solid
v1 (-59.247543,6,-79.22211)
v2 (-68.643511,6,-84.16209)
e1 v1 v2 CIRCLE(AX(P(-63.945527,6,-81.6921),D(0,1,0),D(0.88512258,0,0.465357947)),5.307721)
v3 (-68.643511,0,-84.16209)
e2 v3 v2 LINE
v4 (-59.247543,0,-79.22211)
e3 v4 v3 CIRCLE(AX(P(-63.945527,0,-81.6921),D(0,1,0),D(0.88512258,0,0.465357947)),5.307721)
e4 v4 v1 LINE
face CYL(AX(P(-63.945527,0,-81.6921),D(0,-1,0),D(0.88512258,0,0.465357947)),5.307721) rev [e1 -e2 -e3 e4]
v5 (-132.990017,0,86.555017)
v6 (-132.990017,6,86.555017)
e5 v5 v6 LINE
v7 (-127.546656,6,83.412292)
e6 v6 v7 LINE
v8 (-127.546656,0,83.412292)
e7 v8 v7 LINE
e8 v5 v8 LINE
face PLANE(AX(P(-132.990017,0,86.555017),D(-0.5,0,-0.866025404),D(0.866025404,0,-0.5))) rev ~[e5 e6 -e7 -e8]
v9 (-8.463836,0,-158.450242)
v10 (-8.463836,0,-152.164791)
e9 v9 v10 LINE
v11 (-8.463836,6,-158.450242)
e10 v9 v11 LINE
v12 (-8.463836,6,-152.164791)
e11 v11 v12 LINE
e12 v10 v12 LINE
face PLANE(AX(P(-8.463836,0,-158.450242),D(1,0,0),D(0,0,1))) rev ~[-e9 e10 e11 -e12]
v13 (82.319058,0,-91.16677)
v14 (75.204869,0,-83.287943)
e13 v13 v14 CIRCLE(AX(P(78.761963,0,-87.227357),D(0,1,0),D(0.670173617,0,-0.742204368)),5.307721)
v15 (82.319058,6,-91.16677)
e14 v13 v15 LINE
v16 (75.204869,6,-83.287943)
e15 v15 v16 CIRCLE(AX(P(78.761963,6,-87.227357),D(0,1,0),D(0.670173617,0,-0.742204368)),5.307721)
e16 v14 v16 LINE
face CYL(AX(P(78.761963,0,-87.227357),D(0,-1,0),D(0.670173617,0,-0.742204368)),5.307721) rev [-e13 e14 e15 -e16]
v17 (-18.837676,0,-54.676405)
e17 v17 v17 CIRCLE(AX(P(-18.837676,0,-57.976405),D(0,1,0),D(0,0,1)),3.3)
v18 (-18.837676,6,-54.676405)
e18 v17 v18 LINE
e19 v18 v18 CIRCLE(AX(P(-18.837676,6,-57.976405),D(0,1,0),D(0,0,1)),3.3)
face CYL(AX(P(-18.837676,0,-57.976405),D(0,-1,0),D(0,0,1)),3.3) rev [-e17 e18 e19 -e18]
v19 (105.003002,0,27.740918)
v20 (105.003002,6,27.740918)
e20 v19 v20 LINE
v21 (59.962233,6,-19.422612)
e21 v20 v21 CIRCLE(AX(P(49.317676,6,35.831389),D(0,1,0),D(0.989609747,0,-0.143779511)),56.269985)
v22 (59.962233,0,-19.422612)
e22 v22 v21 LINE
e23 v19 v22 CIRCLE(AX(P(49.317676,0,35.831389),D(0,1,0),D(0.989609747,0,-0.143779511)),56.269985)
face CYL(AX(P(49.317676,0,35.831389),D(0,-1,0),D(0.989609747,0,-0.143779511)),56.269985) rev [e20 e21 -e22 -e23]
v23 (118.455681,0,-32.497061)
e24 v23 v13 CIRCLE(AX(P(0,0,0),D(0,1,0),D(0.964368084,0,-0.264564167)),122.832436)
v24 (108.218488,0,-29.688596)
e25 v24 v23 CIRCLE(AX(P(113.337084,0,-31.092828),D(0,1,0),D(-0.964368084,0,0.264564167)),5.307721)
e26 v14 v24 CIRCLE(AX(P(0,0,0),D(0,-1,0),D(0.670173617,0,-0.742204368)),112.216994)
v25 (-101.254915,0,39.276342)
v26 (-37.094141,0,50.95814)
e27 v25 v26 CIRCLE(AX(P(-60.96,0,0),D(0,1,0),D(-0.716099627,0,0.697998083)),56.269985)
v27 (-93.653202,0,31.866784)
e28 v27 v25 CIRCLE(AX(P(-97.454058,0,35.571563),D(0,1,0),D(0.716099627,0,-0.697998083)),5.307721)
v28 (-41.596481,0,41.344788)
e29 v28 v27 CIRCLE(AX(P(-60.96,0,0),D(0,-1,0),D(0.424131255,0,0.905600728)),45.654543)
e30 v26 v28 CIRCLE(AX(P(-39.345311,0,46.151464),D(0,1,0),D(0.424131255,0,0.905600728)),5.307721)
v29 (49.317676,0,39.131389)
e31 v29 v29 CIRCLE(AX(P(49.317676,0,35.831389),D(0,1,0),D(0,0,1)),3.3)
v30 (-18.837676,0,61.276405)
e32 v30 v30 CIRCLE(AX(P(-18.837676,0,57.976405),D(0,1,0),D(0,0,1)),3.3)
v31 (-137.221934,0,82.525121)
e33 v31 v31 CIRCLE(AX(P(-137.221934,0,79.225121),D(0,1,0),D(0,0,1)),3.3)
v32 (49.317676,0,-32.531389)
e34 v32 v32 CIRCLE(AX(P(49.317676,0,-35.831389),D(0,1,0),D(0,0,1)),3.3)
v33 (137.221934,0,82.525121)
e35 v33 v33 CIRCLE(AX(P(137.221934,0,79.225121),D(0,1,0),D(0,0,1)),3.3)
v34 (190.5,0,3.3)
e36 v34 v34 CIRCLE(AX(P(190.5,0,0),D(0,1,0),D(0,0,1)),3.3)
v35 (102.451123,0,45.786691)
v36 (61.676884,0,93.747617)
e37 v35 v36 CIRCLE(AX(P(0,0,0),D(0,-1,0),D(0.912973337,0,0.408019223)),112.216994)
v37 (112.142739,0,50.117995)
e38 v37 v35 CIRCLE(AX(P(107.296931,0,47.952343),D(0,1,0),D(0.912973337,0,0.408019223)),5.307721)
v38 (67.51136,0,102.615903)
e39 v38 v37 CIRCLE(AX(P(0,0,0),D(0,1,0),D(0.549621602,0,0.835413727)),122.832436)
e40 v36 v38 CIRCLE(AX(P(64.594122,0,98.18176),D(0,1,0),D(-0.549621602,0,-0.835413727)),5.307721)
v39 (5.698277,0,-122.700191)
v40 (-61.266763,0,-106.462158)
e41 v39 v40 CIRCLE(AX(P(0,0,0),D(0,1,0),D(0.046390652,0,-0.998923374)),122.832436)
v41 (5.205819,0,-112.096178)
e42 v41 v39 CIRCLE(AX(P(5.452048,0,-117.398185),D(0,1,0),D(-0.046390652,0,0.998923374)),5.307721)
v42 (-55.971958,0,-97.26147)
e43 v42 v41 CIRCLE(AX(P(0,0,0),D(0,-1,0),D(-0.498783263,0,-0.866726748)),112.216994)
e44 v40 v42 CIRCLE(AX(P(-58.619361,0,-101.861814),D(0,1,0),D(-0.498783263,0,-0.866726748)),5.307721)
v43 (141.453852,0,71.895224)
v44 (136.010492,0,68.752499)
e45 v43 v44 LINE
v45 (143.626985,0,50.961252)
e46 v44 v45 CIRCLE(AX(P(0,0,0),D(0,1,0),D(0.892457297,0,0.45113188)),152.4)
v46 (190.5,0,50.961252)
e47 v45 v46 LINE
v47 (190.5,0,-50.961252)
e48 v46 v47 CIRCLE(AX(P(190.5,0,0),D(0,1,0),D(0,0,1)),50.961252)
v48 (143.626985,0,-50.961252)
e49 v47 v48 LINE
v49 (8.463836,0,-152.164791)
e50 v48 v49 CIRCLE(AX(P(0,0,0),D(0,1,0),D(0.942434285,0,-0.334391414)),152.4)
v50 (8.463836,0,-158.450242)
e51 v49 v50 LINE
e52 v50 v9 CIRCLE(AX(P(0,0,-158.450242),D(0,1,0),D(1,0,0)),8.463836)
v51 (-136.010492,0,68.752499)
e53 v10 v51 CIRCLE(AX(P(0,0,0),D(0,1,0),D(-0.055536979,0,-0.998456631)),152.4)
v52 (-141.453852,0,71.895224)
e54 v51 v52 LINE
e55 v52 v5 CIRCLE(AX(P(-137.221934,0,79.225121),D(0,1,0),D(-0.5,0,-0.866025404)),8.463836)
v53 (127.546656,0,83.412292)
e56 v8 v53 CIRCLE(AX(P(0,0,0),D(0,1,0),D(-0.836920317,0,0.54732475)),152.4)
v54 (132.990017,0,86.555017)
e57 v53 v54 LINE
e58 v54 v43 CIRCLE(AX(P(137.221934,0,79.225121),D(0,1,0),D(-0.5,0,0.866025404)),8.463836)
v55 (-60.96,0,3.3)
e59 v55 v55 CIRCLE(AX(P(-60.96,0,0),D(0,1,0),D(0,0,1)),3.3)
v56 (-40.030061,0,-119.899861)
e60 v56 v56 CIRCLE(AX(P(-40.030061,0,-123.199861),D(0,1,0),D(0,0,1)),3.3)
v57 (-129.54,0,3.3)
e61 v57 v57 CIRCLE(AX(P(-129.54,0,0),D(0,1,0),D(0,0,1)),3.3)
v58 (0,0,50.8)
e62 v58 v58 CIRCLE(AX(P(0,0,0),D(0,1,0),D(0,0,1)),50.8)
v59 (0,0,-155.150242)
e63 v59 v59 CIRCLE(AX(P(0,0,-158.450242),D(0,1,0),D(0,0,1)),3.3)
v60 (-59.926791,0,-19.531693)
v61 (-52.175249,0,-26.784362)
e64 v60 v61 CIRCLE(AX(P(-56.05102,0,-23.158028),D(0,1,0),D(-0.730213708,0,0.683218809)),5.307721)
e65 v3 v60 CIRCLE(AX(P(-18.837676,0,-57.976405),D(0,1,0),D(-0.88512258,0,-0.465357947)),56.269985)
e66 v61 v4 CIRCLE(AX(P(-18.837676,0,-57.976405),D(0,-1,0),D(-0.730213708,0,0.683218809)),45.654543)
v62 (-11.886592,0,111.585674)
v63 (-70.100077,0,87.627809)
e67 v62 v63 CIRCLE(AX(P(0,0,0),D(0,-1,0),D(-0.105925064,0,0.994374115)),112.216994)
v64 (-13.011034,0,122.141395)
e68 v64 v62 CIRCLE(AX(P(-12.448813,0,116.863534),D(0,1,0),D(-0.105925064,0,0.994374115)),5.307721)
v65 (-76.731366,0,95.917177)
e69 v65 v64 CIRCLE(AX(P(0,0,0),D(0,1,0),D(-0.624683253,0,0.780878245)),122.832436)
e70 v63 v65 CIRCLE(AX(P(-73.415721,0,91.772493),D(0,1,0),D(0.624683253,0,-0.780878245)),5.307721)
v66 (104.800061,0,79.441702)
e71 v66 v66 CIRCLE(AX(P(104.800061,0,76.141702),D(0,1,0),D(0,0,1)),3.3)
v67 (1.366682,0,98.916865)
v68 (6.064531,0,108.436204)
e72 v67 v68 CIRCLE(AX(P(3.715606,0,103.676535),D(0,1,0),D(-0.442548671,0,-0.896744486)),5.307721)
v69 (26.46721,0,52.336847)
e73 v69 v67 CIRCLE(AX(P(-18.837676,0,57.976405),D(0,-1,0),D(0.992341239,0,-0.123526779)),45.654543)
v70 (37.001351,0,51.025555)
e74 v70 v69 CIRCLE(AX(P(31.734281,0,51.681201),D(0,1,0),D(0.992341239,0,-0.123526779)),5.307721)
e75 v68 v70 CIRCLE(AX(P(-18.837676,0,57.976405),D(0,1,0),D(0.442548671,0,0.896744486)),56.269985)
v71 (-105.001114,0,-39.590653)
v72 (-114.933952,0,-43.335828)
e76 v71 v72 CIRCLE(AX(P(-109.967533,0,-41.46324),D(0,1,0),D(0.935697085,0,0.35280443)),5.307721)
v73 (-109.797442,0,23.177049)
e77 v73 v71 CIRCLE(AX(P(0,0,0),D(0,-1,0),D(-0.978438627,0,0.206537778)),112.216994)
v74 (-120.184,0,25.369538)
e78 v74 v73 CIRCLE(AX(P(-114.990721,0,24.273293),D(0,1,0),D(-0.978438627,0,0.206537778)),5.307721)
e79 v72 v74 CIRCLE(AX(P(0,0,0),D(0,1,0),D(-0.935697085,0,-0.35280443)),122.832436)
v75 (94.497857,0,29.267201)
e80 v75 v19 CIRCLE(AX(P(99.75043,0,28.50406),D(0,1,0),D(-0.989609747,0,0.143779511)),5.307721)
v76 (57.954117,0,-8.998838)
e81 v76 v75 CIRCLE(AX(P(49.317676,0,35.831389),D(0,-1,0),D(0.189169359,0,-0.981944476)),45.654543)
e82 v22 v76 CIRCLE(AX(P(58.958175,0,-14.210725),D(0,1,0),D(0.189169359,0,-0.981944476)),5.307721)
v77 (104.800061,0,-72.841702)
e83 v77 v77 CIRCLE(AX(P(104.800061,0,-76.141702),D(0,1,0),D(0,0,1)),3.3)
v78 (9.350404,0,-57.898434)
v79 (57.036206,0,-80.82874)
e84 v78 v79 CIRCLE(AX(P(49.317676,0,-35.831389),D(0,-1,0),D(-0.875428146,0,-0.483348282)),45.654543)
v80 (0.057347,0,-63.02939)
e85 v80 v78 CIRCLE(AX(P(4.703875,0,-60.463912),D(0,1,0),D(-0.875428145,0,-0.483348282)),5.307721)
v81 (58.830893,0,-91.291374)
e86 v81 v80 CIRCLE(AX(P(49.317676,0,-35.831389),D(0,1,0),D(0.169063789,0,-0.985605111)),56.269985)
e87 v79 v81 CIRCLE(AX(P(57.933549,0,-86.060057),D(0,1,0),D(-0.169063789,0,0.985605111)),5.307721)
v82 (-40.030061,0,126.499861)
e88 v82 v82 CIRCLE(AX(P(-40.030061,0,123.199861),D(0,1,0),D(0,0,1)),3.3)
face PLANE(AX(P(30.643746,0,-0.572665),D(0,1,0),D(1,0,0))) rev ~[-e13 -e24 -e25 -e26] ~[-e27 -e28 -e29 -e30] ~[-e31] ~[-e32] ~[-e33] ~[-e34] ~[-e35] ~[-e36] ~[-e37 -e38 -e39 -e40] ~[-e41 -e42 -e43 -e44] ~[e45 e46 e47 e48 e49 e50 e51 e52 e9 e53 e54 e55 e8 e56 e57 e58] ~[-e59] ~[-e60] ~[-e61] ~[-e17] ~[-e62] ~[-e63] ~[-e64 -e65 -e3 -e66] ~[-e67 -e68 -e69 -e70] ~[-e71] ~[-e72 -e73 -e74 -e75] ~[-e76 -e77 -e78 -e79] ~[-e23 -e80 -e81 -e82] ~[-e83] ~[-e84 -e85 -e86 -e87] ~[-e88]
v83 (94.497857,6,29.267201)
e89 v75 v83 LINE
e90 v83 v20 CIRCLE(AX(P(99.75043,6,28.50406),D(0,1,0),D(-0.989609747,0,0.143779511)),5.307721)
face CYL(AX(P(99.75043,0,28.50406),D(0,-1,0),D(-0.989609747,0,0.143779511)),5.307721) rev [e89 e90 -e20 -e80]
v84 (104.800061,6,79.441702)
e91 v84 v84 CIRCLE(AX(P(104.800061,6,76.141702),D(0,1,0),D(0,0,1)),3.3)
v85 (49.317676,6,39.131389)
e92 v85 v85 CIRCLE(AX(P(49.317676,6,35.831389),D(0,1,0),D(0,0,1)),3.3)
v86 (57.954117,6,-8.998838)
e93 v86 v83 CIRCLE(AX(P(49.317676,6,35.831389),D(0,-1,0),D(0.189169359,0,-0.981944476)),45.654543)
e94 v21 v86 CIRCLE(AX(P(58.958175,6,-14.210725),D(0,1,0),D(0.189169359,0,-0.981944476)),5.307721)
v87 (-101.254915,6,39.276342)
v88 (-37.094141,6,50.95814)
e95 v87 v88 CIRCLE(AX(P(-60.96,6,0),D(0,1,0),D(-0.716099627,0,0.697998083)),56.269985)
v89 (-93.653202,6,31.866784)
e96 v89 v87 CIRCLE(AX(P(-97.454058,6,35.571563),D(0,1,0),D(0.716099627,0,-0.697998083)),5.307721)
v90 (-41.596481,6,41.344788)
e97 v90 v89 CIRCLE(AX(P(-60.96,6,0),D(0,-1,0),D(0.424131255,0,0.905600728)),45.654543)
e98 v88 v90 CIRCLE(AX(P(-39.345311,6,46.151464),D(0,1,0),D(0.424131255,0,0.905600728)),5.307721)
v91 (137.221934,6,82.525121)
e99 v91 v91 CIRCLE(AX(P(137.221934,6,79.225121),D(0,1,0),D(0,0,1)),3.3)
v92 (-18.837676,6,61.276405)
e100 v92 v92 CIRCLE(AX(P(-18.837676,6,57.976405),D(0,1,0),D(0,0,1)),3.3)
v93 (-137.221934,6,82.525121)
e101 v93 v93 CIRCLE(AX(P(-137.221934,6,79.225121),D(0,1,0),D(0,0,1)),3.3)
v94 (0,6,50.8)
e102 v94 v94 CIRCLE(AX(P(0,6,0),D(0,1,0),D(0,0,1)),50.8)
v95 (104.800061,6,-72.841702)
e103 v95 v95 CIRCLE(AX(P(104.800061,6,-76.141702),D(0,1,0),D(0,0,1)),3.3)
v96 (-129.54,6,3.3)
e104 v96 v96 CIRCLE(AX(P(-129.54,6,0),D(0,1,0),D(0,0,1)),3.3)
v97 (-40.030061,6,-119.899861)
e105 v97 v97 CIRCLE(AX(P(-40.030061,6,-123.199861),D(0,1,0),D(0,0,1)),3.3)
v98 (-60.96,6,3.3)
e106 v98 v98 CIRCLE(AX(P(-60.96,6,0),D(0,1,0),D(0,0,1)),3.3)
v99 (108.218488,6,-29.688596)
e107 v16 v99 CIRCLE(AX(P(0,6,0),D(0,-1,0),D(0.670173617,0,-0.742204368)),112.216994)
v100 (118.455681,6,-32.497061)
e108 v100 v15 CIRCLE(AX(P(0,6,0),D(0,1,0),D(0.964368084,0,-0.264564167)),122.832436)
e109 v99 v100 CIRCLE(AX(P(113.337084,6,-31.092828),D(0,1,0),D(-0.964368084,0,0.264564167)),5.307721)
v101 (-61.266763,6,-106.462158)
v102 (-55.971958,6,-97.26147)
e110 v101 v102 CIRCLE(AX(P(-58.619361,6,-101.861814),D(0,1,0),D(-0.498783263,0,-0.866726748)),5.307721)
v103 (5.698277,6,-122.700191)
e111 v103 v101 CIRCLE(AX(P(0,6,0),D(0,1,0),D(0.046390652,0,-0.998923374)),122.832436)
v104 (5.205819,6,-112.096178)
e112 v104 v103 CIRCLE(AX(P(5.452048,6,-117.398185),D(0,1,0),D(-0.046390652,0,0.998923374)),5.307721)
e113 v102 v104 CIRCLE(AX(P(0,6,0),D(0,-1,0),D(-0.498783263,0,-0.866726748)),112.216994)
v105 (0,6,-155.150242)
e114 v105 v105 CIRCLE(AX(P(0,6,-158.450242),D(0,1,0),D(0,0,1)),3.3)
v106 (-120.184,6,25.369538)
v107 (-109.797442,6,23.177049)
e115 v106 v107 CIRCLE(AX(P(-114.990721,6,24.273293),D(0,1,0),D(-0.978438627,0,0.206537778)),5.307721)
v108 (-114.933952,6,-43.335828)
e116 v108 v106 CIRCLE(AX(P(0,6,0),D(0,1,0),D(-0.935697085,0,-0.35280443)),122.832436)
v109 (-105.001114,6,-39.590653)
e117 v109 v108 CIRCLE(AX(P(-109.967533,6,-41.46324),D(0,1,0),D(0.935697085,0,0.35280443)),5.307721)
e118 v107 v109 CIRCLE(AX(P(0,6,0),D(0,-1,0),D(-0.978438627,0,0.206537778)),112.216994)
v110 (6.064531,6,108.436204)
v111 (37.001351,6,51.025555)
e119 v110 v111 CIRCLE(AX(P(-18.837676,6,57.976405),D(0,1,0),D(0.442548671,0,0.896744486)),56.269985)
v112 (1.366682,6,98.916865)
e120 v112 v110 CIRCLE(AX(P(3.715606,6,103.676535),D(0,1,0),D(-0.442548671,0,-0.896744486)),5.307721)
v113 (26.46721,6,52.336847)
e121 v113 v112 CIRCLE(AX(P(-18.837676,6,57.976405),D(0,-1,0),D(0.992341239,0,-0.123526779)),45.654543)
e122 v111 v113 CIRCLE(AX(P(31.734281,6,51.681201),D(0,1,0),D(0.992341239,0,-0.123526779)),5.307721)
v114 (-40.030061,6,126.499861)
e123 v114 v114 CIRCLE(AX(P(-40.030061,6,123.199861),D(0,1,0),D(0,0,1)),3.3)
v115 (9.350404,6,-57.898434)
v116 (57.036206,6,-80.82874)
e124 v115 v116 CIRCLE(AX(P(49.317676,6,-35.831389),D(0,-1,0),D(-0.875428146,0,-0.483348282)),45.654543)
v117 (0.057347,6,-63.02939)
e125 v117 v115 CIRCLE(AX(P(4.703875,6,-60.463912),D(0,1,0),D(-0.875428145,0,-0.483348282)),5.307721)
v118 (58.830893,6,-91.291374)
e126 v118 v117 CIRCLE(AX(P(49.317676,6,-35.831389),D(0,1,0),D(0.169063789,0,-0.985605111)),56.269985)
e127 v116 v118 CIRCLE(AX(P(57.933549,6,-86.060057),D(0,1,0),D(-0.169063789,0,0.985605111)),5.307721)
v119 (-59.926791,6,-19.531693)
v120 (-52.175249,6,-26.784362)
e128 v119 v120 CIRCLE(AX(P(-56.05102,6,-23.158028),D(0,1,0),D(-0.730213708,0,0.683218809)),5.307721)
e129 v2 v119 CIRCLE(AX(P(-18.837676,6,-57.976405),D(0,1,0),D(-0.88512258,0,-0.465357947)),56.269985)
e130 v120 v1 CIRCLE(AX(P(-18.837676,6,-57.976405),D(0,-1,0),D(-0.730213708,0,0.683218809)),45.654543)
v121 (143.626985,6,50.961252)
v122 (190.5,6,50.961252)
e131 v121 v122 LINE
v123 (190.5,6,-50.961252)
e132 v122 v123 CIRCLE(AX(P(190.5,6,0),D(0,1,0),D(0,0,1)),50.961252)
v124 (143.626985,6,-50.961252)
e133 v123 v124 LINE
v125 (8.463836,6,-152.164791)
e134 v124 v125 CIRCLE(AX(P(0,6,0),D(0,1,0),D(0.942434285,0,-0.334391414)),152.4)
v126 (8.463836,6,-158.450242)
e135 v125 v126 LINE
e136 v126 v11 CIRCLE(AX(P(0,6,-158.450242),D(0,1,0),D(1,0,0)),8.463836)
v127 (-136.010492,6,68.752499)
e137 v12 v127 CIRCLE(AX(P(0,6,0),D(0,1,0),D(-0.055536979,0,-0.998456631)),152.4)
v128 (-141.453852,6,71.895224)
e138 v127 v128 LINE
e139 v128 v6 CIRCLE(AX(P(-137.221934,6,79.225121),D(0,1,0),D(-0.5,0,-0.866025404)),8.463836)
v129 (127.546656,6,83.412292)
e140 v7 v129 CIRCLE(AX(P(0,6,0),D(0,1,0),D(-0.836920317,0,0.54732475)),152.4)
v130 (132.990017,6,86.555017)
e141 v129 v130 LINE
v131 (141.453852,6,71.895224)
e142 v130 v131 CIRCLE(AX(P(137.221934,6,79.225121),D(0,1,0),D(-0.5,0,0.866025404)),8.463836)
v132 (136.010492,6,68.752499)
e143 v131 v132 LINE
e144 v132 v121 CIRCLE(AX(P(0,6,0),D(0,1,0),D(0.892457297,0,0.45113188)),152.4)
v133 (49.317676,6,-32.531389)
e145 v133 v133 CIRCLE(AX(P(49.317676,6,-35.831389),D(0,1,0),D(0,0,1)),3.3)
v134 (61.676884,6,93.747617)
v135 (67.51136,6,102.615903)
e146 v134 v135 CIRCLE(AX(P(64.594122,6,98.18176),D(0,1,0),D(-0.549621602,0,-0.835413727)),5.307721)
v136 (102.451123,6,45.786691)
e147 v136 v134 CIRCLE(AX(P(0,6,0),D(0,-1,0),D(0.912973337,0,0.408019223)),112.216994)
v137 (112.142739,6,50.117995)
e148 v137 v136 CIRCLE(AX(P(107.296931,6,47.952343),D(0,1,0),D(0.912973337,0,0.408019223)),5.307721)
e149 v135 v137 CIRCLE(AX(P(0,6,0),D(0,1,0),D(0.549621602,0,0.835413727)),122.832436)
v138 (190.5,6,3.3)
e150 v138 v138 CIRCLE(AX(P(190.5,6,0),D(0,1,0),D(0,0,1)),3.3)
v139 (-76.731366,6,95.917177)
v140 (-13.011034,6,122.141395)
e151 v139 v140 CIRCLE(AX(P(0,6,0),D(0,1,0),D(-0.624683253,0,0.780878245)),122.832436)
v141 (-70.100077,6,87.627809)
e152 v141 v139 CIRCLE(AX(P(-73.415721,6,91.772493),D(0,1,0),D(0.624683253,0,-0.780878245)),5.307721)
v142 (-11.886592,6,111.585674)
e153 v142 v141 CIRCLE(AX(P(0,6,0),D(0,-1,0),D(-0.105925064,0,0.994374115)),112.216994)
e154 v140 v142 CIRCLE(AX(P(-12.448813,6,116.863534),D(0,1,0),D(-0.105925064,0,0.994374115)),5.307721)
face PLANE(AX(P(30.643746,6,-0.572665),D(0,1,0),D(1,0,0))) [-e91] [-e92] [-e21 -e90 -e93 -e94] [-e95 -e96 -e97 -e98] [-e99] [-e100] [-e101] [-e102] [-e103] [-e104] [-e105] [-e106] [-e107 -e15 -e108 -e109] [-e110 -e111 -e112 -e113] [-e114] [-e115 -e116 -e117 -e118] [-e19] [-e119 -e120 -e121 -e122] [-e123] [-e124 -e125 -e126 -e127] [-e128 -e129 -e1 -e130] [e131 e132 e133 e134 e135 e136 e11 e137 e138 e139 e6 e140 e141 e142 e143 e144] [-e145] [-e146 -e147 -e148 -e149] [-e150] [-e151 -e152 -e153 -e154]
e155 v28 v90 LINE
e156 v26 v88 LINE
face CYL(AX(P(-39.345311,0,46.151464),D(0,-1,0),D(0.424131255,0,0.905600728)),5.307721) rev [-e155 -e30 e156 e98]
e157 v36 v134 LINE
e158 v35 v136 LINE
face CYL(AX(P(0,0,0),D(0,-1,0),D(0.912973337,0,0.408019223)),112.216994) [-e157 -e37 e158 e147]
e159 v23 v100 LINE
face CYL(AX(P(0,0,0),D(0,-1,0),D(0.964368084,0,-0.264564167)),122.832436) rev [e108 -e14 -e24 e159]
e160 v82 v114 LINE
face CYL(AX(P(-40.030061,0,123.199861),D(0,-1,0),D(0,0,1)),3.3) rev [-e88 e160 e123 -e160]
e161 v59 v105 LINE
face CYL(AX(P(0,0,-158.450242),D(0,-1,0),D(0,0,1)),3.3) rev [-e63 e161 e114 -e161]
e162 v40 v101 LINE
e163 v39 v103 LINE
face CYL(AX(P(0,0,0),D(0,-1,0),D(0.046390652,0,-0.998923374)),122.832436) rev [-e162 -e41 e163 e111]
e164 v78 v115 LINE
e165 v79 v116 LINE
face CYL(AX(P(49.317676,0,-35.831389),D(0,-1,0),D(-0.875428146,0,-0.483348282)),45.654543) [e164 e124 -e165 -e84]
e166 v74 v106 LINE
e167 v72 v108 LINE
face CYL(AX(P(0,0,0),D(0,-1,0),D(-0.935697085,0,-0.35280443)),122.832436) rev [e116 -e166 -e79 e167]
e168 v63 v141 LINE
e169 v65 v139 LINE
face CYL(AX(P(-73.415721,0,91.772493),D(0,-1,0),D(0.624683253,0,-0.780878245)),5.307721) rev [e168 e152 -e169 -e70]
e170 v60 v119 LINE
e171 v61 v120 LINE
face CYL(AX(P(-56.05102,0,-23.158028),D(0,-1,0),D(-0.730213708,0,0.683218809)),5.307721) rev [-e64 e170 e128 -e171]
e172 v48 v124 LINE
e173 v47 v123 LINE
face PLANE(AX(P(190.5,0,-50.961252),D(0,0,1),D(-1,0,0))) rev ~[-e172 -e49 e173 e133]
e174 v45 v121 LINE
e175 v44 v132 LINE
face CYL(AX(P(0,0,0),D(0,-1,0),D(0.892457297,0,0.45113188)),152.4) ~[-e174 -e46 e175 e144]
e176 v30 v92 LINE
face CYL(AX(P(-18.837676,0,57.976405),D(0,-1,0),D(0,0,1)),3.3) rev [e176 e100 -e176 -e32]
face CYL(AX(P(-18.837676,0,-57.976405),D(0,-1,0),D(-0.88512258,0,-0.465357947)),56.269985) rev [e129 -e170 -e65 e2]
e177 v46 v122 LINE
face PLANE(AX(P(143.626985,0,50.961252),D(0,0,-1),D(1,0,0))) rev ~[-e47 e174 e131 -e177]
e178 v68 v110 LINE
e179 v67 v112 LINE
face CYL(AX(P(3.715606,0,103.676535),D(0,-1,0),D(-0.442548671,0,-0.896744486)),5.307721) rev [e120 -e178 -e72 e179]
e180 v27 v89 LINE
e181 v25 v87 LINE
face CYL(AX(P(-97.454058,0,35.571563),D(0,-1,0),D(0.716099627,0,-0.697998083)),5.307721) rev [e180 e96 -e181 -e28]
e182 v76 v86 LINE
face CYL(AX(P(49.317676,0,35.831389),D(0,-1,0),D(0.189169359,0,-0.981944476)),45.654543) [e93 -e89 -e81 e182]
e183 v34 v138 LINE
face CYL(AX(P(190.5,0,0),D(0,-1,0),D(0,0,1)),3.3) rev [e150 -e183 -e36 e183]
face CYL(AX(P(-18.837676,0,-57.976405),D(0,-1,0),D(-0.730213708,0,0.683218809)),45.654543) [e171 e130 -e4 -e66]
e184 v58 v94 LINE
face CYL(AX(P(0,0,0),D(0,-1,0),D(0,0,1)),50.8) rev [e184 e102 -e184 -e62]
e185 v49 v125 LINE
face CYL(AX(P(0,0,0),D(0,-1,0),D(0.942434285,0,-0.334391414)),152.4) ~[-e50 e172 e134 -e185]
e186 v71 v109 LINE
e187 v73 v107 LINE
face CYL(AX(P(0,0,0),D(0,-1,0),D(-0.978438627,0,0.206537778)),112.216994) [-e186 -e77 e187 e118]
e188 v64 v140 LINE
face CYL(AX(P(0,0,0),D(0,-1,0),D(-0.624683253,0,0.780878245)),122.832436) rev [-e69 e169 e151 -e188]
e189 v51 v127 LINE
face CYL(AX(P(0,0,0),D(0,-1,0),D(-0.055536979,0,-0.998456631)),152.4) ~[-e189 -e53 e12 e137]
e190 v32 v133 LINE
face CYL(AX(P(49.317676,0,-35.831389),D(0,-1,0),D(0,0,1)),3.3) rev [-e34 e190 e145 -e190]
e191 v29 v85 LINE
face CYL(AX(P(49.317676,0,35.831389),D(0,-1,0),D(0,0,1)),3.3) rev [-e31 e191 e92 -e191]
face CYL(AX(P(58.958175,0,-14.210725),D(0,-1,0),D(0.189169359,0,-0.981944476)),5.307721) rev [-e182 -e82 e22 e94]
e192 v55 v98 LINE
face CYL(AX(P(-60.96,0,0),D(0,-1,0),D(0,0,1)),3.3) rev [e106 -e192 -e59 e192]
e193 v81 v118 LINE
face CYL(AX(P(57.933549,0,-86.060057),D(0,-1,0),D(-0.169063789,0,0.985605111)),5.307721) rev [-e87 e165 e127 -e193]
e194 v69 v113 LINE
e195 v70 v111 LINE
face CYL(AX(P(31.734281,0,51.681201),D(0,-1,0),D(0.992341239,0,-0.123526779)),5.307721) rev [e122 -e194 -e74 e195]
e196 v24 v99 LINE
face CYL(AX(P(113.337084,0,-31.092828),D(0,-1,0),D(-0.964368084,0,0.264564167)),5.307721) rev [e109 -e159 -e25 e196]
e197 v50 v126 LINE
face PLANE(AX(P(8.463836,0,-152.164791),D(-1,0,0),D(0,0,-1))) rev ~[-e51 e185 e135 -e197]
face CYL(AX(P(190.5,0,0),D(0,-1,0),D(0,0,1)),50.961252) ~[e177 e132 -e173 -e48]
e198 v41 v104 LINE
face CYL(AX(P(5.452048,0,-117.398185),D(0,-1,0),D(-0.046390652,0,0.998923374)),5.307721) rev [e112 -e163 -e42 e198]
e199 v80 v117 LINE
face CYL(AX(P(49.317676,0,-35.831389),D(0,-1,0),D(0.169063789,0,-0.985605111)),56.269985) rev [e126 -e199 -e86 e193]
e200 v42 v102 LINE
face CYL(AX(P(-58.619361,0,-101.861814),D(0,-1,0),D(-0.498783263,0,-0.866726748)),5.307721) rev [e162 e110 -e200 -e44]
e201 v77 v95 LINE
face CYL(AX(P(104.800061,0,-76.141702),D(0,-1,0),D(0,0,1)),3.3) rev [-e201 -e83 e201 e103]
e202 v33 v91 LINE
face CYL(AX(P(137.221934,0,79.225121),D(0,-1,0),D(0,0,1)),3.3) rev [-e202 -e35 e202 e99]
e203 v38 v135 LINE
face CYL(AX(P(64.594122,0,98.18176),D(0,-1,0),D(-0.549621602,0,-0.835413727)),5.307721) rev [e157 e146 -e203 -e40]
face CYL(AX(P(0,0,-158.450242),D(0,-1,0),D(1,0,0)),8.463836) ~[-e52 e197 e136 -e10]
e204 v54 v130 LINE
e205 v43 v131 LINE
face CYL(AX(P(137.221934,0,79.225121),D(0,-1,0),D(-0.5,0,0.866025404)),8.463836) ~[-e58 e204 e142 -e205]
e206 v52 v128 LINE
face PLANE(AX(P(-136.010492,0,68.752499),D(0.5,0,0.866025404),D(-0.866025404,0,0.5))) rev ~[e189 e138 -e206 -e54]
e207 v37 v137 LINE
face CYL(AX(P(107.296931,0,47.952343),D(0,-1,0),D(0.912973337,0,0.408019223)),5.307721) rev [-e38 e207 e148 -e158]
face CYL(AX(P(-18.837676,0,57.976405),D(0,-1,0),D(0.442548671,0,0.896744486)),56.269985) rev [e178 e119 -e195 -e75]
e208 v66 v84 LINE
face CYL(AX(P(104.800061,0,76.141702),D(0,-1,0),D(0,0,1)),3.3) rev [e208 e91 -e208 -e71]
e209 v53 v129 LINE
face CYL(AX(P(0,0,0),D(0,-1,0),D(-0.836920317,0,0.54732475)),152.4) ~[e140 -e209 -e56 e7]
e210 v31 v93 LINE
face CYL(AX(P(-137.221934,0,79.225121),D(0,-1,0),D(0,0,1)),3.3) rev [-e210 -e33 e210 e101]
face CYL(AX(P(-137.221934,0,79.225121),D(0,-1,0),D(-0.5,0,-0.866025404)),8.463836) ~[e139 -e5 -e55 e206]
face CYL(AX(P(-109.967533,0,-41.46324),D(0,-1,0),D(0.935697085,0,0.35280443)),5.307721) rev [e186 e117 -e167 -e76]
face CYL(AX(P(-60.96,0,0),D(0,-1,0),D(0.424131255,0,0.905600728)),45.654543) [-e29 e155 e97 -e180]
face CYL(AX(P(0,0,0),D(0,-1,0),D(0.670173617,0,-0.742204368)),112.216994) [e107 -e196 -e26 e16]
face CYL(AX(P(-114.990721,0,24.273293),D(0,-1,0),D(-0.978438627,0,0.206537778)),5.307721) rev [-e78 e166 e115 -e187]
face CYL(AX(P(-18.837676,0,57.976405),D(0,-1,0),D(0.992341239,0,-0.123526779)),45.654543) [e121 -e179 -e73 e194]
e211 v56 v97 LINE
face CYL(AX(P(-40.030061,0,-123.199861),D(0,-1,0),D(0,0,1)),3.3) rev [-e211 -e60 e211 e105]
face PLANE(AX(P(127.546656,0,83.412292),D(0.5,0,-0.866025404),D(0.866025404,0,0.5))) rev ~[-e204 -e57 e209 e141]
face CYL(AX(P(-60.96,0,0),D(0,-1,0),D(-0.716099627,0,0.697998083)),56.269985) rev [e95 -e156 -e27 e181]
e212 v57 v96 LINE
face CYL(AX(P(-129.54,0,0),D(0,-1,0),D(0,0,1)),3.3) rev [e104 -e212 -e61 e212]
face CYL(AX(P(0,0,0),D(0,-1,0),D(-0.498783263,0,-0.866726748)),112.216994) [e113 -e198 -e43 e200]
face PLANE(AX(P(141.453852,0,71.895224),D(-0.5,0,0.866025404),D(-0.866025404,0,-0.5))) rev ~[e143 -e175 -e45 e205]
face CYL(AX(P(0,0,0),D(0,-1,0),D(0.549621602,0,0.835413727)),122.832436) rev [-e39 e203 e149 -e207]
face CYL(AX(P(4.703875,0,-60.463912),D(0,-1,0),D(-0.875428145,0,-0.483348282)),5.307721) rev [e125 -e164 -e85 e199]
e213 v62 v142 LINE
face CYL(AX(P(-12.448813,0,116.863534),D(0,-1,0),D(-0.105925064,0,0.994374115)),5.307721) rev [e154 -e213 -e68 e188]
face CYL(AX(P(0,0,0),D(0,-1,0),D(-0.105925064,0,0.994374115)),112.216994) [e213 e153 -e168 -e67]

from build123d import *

# Parameters (mm, degrees)
SKETCH1_R           = 50.8
SKETCH1_R_2         = 3.3
BOSS_EXTRUDE1_DEPTH = 6


with BuildPart() as part:
    # Sketch1 → Boss-Extrude1 (new body)
    with BuildSketch(Plane(origin=(0, 0, 0), x_dir=(1, 0, 0), z_dir=(0, 1, 0))):
        with BuildLine():
            Line((190.5, 50.961251532), (143.626985077, 50.961251532))
            ThreePointArc((143.626985077, 50.961251532), (91.342451877, 121.993100154), (8.463835644, 152.16479056))
            Line((8.463835644, 152.16479056), (8.463835644, 158.450241569))
            ThreePointArc((8.463835644, 158.450241569), (0, 166.914077214), (-8.463835644, 158.450241569))
            Line((-8.463835644, 158.450241569), (-8.463835644, 152.16479056))
            ThreePointArc((-8.463835644, 152.16479056), (-131.982271537, 76.2), (-136.010492009, -68.752498599))
            Line((-136.010492009, -68.752498599), (-141.453852257, -71.895224103))
            ThreePointArc((-141.453852257, -71.895224103), (-144.551831116, -83.457038607), (-132.990016613, -86.555017466))
            Line((-132.990016613, -86.555017466), (-127.546656365, -83.412291961))
            ThreePointArc((-127.546656365, -83.412291961), (0, -152.4), (127.546656365, -83.412291961))
            Line((127.546656365, -83.412291961), (132.990016613, -86.555017466))
            ThreePointArc((132.990016613, -86.555017466), (144.551831116, -83.457038607), (141.453852257, -71.895224103))
            Line((141.453852257, -71.895224103), (136.010492009, -68.752498599))
            ThreePointArc((136.010492009, -68.752498599), (140.101433846, -59.977897881), (143.626985077, -50.961251532))
            Line((143.626985077, -50.961251532), (190.5, -50.961251532))
            ThreePointArc((190.5, -50.961251532), (241.461251532, 0), (190.5, 50.961251532))
        make_face()
        with Locations(Location((0, 0, 0), (0, 0, 270))):
            Circle(SKETCH1_R, mode=Mode.SUBTRACT)
        with Locations(Location((-60.96, 0, 0), (0, 0, 270))):
            Circle(SKETCH1_R_2, mode=Mode.SUBTRACT)
        with Locations(Location((-129.54, 0, 0), (0, 0, 270))):
            Circle(SKETCH1_R_2, mode=Mode.SUBTRACT)
        with Locations(Location((-40.030061451, 123.199861121, 0), (0, 0, 270))):
            Circle(SKETCH1_R_2, mode=Mode.SUBTRACT)
        with Locations(Location((-18.837675977, 57.976405233, 0), (0, 0, 270))):
            Circle(SKETCH1_R_2, mode=Mode.SUBTRACT)
        with Locations(Location((104.800061451, 76.141701582, 0), (0, 0, 270))):
            Circle(SKETCH1_R_2, mode=Mode.SUBTRACT)
        with Locations(Location((49.317675977, 35.83138898, 0), (0, 0, 270))):
            Circle(SKETCH1_R_2, mode=Mode.SUBTRACT)
        with Locations(Location((104.800061451, -76.141701582, 0), (0, 0, 270))):
            Circle(SKETCH1_R_2, mode=Mode.SUBTRACT)
        with Locations(Location((49.317675977, -35.83138898, 0), (0, 0, 270))):
            Circle(SKETCH1_R_2, mode=Mode.SUBTRACT)
        with Locations(Location((-40.030061451, -123.199861121, 0), (0, 0, 270))):
            Circle(SKETCH1_R_2, mode=Mode.SUBTRACT)
        with Locations(Location((-18.837675977, -57.976405233, 0), (0, 0, 270))):
            Circle(SKETCH1_R_2, mode=Mode.SUBTRACT)
        with Locations(Location((0, 158.450241569, 0), (0, 0, 270))):
            Circle(SKETCH1_R_2, mode=Mode.SUBTRACT)
        with Locations(Location((137.221934435, -79.225120785, 0), (0, 0, 270))):
            Circle(SKETCH1_R_2, mode=Mode.SUBTRACT)
        with Locations(Location((-137.221934435, -79.225120785, 0), (0, 0, 270))):
            Circle(SKETCH1_R_2, mode=Mode.SUBTRACT)
        with Locations(Location((190.5, 0, 0), (0, 0, 270))):
            Circle(SKETCH1_R_2, mode=Mode.SUBTRACT)
        with BuildLine():
            ThreePointArc((58.830892873, 91.291374091), (24.932369588, 86.543005761), (0.05734711, 63.029389718))
            ThreePointArc((0.05734711, 63.029389718), (2.138397611, 55.817383614), (9.350403715, 57.898434115))
            ThreePointArc((9.350403715, 57.898434115), (29.532704945, 76.976160876), (57.03620605, 80.828740309))
            ThreePointArc((57.03620605, 80.828740309), (63.164866353, 85.162713788), (58.830892873, 91.291374091))
        make_face(mode=Mode.SUBTRACT)
        with BuildLine():
            ThreePointArc((105.003001903, -27.740917993), (90.011815481, 3.031166961), (59.962233041, 19.422612225))
            ThreePointArc((59.962233041, 19.422612225), (53.746287611, 15.214783136), (57.9541167, 8.998837707))
            ThreePointArc((57.9541167, 8.998837707), (82.334787118, -4.30032961), (94.497857139, -29.26720104))
            ThreePointArc((94.497857139, -29.26720104), (100.513571044, -33.756631898), (105.003001903, -27.740917993))
        make_face(mode=Mode.SUBTRACT)
        with BuildLine():
            ThreePointArc((6.064531223, -108.43620429), (30.697991769, -84.669641553), (37.001350951, -51.025555212))
            ThreePointArc((37.001350951, -51.025555212), (31.078634902, -46.414130505), (26.467210194, -52.336846553))
            ThreePointArc((26.467210194, -52.336846553), (21.35299195, -79.633910737), (1.366681525, -98.916865307))
            ThreePointArc((1.366681525, -98.916865307), (-1.044063117, -106.025459647), (6.064531223, -108.43620429))
        make_face(mode=Mode.SUBTRACT)
        with BuildLine():
            ThreePointArc((-101.254915481, -39.276341869), (-71.039413182, -55.359883256), (-37.094140524, -50.958139641))
            ThreePointArc((-37.094140524, -50.958139641), (-34.538634918, -43.900293346), (-41.596481213, -41.34478774))
            ThreePointArc((-41.596481213, -41.34478774), (-69.137912331, -44.916133883), (-93.653201504, -31.866783781))
            ThreePointArc((-93.653201504, -31.866783781), (-101.158837537, -31.770705837), (-101.254915481, -39.276341869))
        make_face(mode=Mode.SUBTRACT)
        with BuildLine():
            ThreePointArc((-68.643510519, 84.162090061), (-74.602763656, 50.455352088), (-59.926790578, 19.53169291))
            ThreePointArc((-59.926790578, 19.53169291), (-52.424685206, 19.282257101), (-52.175249396, 26.784362472))
            ThreePointArc((-52.175249396, 26.784362472), (-64.082571682, 51.874213354), (-59.24754321, 79.222109818))
            ThreePointArc((-59.24754321, 79.222109818), (-61.475536743, 86.390083594), (-68.643510519, 84.162090061))
        make_face(mode=Mode.SUBTRACT)
        with BuildLine():
            ThreePointArc((-114.933952082, 43.33582753), (-122.475383862, 9.358826678), (-120.183999815, -25.369538378))
            ThreePointArc((-120.183999815, -25.369538378), (-113.894475778, -29.466572649), (-109.797441507, -23.177048612))
            ThreePointArc((-109.797441507, -23.177048612), (-111.890799244, 8.55001686), (-105.001114128, 39.590652631))
            ThreePointArc((-105.001114128, 39.590652631), (-108.094945655, 46.429659058), (-114.933952082, 43.33582753))
        make_face(mode=Mode.SUBTRACT)
        with BuildLine():
            ThreePointArc((5.698276738, 122.700191244), (-28.946201909, 119.373048399), (-61.266763184, 106.46215768))
            ThreePointArc((-61.266763184, 106.46215768), (-63.219704511, 99.214411644), (-55.971958475, 97.261470317))
            ThreePointArc((-55.971958475, 97.261470317), (-26.444609232, 109.056574246), (5.205819475, 112.096178291))
            ThreePointArc((5.205819475, 112.096178291), (10.754054583, 117.151956136), (5.698276738, 122.700191244))
        make_face(mode=Mode.SUBTRACT)
        with BuildLine():
            ThreePointArc((118.455680783, 32.497061084), (104.585647237, 64.417774574), (82.319057786, 91.16677034))
            ThreePointArc((82.319057786, 91.16677034), (74.822549631, 90.784451219), (75.204868752, 83.287943063))
            ThreePointArc((75.204868752, 83.287943063), (95.54713192, 58.850652721), (108.218487502, 29.688595562))
            ThreePointArc((108.218487502, 29.688595562), (114.741316904, 25.974231683), (118.455680783, 32.497061084))
        make_face(mode=Mode.SUBTRACT)
        with BuildLine():
            ThreePointArc((67.511360147, -102.615902959), (93.583686637, -79.560674233), (112.142738818, -50.117994966))
            ThreePointArc((112.142738818, -50.117994966), (109.462583308, -43.106535141), (102.451123483, -45.786690651))
            ThreePointArc((102.451123483, -45.786690651), (85.495984285, -72.684870605), (61.676884013, -93.747617155))
            ThreePointArc((61.676884013, -93.747617155), (60.159979178, -101.098998124), (67.511360147, -102.615902959))
        make_face(mode=Mode.SUBTRACT)
        with BuildLine():
            ThreePointArc((-76.731365586, -95.917176899), (-46.747748103, -113.588975417), (-13.011033605, -122.141394676))
            ThreePointArc((-13.011033605, -122.141394676), (-7.17095265, -117.425755073), (-11.886592254, -111.585674118))
            ThreePointArc((-11.886592254, -111.585674118), (-42.70770773, -103.772373223), (-70.100076862, -87.627809328))
            ThreePointArc((-70.100076862, -87.627809328), (-77.56040501, -88.456848752), (-76.731365586, -95.917176899))
        make_face(mode=Mode.SUBTRACT)
    extrude(amount=BOSS_EXTRUDE1_DEPTH)


solid = part.part
